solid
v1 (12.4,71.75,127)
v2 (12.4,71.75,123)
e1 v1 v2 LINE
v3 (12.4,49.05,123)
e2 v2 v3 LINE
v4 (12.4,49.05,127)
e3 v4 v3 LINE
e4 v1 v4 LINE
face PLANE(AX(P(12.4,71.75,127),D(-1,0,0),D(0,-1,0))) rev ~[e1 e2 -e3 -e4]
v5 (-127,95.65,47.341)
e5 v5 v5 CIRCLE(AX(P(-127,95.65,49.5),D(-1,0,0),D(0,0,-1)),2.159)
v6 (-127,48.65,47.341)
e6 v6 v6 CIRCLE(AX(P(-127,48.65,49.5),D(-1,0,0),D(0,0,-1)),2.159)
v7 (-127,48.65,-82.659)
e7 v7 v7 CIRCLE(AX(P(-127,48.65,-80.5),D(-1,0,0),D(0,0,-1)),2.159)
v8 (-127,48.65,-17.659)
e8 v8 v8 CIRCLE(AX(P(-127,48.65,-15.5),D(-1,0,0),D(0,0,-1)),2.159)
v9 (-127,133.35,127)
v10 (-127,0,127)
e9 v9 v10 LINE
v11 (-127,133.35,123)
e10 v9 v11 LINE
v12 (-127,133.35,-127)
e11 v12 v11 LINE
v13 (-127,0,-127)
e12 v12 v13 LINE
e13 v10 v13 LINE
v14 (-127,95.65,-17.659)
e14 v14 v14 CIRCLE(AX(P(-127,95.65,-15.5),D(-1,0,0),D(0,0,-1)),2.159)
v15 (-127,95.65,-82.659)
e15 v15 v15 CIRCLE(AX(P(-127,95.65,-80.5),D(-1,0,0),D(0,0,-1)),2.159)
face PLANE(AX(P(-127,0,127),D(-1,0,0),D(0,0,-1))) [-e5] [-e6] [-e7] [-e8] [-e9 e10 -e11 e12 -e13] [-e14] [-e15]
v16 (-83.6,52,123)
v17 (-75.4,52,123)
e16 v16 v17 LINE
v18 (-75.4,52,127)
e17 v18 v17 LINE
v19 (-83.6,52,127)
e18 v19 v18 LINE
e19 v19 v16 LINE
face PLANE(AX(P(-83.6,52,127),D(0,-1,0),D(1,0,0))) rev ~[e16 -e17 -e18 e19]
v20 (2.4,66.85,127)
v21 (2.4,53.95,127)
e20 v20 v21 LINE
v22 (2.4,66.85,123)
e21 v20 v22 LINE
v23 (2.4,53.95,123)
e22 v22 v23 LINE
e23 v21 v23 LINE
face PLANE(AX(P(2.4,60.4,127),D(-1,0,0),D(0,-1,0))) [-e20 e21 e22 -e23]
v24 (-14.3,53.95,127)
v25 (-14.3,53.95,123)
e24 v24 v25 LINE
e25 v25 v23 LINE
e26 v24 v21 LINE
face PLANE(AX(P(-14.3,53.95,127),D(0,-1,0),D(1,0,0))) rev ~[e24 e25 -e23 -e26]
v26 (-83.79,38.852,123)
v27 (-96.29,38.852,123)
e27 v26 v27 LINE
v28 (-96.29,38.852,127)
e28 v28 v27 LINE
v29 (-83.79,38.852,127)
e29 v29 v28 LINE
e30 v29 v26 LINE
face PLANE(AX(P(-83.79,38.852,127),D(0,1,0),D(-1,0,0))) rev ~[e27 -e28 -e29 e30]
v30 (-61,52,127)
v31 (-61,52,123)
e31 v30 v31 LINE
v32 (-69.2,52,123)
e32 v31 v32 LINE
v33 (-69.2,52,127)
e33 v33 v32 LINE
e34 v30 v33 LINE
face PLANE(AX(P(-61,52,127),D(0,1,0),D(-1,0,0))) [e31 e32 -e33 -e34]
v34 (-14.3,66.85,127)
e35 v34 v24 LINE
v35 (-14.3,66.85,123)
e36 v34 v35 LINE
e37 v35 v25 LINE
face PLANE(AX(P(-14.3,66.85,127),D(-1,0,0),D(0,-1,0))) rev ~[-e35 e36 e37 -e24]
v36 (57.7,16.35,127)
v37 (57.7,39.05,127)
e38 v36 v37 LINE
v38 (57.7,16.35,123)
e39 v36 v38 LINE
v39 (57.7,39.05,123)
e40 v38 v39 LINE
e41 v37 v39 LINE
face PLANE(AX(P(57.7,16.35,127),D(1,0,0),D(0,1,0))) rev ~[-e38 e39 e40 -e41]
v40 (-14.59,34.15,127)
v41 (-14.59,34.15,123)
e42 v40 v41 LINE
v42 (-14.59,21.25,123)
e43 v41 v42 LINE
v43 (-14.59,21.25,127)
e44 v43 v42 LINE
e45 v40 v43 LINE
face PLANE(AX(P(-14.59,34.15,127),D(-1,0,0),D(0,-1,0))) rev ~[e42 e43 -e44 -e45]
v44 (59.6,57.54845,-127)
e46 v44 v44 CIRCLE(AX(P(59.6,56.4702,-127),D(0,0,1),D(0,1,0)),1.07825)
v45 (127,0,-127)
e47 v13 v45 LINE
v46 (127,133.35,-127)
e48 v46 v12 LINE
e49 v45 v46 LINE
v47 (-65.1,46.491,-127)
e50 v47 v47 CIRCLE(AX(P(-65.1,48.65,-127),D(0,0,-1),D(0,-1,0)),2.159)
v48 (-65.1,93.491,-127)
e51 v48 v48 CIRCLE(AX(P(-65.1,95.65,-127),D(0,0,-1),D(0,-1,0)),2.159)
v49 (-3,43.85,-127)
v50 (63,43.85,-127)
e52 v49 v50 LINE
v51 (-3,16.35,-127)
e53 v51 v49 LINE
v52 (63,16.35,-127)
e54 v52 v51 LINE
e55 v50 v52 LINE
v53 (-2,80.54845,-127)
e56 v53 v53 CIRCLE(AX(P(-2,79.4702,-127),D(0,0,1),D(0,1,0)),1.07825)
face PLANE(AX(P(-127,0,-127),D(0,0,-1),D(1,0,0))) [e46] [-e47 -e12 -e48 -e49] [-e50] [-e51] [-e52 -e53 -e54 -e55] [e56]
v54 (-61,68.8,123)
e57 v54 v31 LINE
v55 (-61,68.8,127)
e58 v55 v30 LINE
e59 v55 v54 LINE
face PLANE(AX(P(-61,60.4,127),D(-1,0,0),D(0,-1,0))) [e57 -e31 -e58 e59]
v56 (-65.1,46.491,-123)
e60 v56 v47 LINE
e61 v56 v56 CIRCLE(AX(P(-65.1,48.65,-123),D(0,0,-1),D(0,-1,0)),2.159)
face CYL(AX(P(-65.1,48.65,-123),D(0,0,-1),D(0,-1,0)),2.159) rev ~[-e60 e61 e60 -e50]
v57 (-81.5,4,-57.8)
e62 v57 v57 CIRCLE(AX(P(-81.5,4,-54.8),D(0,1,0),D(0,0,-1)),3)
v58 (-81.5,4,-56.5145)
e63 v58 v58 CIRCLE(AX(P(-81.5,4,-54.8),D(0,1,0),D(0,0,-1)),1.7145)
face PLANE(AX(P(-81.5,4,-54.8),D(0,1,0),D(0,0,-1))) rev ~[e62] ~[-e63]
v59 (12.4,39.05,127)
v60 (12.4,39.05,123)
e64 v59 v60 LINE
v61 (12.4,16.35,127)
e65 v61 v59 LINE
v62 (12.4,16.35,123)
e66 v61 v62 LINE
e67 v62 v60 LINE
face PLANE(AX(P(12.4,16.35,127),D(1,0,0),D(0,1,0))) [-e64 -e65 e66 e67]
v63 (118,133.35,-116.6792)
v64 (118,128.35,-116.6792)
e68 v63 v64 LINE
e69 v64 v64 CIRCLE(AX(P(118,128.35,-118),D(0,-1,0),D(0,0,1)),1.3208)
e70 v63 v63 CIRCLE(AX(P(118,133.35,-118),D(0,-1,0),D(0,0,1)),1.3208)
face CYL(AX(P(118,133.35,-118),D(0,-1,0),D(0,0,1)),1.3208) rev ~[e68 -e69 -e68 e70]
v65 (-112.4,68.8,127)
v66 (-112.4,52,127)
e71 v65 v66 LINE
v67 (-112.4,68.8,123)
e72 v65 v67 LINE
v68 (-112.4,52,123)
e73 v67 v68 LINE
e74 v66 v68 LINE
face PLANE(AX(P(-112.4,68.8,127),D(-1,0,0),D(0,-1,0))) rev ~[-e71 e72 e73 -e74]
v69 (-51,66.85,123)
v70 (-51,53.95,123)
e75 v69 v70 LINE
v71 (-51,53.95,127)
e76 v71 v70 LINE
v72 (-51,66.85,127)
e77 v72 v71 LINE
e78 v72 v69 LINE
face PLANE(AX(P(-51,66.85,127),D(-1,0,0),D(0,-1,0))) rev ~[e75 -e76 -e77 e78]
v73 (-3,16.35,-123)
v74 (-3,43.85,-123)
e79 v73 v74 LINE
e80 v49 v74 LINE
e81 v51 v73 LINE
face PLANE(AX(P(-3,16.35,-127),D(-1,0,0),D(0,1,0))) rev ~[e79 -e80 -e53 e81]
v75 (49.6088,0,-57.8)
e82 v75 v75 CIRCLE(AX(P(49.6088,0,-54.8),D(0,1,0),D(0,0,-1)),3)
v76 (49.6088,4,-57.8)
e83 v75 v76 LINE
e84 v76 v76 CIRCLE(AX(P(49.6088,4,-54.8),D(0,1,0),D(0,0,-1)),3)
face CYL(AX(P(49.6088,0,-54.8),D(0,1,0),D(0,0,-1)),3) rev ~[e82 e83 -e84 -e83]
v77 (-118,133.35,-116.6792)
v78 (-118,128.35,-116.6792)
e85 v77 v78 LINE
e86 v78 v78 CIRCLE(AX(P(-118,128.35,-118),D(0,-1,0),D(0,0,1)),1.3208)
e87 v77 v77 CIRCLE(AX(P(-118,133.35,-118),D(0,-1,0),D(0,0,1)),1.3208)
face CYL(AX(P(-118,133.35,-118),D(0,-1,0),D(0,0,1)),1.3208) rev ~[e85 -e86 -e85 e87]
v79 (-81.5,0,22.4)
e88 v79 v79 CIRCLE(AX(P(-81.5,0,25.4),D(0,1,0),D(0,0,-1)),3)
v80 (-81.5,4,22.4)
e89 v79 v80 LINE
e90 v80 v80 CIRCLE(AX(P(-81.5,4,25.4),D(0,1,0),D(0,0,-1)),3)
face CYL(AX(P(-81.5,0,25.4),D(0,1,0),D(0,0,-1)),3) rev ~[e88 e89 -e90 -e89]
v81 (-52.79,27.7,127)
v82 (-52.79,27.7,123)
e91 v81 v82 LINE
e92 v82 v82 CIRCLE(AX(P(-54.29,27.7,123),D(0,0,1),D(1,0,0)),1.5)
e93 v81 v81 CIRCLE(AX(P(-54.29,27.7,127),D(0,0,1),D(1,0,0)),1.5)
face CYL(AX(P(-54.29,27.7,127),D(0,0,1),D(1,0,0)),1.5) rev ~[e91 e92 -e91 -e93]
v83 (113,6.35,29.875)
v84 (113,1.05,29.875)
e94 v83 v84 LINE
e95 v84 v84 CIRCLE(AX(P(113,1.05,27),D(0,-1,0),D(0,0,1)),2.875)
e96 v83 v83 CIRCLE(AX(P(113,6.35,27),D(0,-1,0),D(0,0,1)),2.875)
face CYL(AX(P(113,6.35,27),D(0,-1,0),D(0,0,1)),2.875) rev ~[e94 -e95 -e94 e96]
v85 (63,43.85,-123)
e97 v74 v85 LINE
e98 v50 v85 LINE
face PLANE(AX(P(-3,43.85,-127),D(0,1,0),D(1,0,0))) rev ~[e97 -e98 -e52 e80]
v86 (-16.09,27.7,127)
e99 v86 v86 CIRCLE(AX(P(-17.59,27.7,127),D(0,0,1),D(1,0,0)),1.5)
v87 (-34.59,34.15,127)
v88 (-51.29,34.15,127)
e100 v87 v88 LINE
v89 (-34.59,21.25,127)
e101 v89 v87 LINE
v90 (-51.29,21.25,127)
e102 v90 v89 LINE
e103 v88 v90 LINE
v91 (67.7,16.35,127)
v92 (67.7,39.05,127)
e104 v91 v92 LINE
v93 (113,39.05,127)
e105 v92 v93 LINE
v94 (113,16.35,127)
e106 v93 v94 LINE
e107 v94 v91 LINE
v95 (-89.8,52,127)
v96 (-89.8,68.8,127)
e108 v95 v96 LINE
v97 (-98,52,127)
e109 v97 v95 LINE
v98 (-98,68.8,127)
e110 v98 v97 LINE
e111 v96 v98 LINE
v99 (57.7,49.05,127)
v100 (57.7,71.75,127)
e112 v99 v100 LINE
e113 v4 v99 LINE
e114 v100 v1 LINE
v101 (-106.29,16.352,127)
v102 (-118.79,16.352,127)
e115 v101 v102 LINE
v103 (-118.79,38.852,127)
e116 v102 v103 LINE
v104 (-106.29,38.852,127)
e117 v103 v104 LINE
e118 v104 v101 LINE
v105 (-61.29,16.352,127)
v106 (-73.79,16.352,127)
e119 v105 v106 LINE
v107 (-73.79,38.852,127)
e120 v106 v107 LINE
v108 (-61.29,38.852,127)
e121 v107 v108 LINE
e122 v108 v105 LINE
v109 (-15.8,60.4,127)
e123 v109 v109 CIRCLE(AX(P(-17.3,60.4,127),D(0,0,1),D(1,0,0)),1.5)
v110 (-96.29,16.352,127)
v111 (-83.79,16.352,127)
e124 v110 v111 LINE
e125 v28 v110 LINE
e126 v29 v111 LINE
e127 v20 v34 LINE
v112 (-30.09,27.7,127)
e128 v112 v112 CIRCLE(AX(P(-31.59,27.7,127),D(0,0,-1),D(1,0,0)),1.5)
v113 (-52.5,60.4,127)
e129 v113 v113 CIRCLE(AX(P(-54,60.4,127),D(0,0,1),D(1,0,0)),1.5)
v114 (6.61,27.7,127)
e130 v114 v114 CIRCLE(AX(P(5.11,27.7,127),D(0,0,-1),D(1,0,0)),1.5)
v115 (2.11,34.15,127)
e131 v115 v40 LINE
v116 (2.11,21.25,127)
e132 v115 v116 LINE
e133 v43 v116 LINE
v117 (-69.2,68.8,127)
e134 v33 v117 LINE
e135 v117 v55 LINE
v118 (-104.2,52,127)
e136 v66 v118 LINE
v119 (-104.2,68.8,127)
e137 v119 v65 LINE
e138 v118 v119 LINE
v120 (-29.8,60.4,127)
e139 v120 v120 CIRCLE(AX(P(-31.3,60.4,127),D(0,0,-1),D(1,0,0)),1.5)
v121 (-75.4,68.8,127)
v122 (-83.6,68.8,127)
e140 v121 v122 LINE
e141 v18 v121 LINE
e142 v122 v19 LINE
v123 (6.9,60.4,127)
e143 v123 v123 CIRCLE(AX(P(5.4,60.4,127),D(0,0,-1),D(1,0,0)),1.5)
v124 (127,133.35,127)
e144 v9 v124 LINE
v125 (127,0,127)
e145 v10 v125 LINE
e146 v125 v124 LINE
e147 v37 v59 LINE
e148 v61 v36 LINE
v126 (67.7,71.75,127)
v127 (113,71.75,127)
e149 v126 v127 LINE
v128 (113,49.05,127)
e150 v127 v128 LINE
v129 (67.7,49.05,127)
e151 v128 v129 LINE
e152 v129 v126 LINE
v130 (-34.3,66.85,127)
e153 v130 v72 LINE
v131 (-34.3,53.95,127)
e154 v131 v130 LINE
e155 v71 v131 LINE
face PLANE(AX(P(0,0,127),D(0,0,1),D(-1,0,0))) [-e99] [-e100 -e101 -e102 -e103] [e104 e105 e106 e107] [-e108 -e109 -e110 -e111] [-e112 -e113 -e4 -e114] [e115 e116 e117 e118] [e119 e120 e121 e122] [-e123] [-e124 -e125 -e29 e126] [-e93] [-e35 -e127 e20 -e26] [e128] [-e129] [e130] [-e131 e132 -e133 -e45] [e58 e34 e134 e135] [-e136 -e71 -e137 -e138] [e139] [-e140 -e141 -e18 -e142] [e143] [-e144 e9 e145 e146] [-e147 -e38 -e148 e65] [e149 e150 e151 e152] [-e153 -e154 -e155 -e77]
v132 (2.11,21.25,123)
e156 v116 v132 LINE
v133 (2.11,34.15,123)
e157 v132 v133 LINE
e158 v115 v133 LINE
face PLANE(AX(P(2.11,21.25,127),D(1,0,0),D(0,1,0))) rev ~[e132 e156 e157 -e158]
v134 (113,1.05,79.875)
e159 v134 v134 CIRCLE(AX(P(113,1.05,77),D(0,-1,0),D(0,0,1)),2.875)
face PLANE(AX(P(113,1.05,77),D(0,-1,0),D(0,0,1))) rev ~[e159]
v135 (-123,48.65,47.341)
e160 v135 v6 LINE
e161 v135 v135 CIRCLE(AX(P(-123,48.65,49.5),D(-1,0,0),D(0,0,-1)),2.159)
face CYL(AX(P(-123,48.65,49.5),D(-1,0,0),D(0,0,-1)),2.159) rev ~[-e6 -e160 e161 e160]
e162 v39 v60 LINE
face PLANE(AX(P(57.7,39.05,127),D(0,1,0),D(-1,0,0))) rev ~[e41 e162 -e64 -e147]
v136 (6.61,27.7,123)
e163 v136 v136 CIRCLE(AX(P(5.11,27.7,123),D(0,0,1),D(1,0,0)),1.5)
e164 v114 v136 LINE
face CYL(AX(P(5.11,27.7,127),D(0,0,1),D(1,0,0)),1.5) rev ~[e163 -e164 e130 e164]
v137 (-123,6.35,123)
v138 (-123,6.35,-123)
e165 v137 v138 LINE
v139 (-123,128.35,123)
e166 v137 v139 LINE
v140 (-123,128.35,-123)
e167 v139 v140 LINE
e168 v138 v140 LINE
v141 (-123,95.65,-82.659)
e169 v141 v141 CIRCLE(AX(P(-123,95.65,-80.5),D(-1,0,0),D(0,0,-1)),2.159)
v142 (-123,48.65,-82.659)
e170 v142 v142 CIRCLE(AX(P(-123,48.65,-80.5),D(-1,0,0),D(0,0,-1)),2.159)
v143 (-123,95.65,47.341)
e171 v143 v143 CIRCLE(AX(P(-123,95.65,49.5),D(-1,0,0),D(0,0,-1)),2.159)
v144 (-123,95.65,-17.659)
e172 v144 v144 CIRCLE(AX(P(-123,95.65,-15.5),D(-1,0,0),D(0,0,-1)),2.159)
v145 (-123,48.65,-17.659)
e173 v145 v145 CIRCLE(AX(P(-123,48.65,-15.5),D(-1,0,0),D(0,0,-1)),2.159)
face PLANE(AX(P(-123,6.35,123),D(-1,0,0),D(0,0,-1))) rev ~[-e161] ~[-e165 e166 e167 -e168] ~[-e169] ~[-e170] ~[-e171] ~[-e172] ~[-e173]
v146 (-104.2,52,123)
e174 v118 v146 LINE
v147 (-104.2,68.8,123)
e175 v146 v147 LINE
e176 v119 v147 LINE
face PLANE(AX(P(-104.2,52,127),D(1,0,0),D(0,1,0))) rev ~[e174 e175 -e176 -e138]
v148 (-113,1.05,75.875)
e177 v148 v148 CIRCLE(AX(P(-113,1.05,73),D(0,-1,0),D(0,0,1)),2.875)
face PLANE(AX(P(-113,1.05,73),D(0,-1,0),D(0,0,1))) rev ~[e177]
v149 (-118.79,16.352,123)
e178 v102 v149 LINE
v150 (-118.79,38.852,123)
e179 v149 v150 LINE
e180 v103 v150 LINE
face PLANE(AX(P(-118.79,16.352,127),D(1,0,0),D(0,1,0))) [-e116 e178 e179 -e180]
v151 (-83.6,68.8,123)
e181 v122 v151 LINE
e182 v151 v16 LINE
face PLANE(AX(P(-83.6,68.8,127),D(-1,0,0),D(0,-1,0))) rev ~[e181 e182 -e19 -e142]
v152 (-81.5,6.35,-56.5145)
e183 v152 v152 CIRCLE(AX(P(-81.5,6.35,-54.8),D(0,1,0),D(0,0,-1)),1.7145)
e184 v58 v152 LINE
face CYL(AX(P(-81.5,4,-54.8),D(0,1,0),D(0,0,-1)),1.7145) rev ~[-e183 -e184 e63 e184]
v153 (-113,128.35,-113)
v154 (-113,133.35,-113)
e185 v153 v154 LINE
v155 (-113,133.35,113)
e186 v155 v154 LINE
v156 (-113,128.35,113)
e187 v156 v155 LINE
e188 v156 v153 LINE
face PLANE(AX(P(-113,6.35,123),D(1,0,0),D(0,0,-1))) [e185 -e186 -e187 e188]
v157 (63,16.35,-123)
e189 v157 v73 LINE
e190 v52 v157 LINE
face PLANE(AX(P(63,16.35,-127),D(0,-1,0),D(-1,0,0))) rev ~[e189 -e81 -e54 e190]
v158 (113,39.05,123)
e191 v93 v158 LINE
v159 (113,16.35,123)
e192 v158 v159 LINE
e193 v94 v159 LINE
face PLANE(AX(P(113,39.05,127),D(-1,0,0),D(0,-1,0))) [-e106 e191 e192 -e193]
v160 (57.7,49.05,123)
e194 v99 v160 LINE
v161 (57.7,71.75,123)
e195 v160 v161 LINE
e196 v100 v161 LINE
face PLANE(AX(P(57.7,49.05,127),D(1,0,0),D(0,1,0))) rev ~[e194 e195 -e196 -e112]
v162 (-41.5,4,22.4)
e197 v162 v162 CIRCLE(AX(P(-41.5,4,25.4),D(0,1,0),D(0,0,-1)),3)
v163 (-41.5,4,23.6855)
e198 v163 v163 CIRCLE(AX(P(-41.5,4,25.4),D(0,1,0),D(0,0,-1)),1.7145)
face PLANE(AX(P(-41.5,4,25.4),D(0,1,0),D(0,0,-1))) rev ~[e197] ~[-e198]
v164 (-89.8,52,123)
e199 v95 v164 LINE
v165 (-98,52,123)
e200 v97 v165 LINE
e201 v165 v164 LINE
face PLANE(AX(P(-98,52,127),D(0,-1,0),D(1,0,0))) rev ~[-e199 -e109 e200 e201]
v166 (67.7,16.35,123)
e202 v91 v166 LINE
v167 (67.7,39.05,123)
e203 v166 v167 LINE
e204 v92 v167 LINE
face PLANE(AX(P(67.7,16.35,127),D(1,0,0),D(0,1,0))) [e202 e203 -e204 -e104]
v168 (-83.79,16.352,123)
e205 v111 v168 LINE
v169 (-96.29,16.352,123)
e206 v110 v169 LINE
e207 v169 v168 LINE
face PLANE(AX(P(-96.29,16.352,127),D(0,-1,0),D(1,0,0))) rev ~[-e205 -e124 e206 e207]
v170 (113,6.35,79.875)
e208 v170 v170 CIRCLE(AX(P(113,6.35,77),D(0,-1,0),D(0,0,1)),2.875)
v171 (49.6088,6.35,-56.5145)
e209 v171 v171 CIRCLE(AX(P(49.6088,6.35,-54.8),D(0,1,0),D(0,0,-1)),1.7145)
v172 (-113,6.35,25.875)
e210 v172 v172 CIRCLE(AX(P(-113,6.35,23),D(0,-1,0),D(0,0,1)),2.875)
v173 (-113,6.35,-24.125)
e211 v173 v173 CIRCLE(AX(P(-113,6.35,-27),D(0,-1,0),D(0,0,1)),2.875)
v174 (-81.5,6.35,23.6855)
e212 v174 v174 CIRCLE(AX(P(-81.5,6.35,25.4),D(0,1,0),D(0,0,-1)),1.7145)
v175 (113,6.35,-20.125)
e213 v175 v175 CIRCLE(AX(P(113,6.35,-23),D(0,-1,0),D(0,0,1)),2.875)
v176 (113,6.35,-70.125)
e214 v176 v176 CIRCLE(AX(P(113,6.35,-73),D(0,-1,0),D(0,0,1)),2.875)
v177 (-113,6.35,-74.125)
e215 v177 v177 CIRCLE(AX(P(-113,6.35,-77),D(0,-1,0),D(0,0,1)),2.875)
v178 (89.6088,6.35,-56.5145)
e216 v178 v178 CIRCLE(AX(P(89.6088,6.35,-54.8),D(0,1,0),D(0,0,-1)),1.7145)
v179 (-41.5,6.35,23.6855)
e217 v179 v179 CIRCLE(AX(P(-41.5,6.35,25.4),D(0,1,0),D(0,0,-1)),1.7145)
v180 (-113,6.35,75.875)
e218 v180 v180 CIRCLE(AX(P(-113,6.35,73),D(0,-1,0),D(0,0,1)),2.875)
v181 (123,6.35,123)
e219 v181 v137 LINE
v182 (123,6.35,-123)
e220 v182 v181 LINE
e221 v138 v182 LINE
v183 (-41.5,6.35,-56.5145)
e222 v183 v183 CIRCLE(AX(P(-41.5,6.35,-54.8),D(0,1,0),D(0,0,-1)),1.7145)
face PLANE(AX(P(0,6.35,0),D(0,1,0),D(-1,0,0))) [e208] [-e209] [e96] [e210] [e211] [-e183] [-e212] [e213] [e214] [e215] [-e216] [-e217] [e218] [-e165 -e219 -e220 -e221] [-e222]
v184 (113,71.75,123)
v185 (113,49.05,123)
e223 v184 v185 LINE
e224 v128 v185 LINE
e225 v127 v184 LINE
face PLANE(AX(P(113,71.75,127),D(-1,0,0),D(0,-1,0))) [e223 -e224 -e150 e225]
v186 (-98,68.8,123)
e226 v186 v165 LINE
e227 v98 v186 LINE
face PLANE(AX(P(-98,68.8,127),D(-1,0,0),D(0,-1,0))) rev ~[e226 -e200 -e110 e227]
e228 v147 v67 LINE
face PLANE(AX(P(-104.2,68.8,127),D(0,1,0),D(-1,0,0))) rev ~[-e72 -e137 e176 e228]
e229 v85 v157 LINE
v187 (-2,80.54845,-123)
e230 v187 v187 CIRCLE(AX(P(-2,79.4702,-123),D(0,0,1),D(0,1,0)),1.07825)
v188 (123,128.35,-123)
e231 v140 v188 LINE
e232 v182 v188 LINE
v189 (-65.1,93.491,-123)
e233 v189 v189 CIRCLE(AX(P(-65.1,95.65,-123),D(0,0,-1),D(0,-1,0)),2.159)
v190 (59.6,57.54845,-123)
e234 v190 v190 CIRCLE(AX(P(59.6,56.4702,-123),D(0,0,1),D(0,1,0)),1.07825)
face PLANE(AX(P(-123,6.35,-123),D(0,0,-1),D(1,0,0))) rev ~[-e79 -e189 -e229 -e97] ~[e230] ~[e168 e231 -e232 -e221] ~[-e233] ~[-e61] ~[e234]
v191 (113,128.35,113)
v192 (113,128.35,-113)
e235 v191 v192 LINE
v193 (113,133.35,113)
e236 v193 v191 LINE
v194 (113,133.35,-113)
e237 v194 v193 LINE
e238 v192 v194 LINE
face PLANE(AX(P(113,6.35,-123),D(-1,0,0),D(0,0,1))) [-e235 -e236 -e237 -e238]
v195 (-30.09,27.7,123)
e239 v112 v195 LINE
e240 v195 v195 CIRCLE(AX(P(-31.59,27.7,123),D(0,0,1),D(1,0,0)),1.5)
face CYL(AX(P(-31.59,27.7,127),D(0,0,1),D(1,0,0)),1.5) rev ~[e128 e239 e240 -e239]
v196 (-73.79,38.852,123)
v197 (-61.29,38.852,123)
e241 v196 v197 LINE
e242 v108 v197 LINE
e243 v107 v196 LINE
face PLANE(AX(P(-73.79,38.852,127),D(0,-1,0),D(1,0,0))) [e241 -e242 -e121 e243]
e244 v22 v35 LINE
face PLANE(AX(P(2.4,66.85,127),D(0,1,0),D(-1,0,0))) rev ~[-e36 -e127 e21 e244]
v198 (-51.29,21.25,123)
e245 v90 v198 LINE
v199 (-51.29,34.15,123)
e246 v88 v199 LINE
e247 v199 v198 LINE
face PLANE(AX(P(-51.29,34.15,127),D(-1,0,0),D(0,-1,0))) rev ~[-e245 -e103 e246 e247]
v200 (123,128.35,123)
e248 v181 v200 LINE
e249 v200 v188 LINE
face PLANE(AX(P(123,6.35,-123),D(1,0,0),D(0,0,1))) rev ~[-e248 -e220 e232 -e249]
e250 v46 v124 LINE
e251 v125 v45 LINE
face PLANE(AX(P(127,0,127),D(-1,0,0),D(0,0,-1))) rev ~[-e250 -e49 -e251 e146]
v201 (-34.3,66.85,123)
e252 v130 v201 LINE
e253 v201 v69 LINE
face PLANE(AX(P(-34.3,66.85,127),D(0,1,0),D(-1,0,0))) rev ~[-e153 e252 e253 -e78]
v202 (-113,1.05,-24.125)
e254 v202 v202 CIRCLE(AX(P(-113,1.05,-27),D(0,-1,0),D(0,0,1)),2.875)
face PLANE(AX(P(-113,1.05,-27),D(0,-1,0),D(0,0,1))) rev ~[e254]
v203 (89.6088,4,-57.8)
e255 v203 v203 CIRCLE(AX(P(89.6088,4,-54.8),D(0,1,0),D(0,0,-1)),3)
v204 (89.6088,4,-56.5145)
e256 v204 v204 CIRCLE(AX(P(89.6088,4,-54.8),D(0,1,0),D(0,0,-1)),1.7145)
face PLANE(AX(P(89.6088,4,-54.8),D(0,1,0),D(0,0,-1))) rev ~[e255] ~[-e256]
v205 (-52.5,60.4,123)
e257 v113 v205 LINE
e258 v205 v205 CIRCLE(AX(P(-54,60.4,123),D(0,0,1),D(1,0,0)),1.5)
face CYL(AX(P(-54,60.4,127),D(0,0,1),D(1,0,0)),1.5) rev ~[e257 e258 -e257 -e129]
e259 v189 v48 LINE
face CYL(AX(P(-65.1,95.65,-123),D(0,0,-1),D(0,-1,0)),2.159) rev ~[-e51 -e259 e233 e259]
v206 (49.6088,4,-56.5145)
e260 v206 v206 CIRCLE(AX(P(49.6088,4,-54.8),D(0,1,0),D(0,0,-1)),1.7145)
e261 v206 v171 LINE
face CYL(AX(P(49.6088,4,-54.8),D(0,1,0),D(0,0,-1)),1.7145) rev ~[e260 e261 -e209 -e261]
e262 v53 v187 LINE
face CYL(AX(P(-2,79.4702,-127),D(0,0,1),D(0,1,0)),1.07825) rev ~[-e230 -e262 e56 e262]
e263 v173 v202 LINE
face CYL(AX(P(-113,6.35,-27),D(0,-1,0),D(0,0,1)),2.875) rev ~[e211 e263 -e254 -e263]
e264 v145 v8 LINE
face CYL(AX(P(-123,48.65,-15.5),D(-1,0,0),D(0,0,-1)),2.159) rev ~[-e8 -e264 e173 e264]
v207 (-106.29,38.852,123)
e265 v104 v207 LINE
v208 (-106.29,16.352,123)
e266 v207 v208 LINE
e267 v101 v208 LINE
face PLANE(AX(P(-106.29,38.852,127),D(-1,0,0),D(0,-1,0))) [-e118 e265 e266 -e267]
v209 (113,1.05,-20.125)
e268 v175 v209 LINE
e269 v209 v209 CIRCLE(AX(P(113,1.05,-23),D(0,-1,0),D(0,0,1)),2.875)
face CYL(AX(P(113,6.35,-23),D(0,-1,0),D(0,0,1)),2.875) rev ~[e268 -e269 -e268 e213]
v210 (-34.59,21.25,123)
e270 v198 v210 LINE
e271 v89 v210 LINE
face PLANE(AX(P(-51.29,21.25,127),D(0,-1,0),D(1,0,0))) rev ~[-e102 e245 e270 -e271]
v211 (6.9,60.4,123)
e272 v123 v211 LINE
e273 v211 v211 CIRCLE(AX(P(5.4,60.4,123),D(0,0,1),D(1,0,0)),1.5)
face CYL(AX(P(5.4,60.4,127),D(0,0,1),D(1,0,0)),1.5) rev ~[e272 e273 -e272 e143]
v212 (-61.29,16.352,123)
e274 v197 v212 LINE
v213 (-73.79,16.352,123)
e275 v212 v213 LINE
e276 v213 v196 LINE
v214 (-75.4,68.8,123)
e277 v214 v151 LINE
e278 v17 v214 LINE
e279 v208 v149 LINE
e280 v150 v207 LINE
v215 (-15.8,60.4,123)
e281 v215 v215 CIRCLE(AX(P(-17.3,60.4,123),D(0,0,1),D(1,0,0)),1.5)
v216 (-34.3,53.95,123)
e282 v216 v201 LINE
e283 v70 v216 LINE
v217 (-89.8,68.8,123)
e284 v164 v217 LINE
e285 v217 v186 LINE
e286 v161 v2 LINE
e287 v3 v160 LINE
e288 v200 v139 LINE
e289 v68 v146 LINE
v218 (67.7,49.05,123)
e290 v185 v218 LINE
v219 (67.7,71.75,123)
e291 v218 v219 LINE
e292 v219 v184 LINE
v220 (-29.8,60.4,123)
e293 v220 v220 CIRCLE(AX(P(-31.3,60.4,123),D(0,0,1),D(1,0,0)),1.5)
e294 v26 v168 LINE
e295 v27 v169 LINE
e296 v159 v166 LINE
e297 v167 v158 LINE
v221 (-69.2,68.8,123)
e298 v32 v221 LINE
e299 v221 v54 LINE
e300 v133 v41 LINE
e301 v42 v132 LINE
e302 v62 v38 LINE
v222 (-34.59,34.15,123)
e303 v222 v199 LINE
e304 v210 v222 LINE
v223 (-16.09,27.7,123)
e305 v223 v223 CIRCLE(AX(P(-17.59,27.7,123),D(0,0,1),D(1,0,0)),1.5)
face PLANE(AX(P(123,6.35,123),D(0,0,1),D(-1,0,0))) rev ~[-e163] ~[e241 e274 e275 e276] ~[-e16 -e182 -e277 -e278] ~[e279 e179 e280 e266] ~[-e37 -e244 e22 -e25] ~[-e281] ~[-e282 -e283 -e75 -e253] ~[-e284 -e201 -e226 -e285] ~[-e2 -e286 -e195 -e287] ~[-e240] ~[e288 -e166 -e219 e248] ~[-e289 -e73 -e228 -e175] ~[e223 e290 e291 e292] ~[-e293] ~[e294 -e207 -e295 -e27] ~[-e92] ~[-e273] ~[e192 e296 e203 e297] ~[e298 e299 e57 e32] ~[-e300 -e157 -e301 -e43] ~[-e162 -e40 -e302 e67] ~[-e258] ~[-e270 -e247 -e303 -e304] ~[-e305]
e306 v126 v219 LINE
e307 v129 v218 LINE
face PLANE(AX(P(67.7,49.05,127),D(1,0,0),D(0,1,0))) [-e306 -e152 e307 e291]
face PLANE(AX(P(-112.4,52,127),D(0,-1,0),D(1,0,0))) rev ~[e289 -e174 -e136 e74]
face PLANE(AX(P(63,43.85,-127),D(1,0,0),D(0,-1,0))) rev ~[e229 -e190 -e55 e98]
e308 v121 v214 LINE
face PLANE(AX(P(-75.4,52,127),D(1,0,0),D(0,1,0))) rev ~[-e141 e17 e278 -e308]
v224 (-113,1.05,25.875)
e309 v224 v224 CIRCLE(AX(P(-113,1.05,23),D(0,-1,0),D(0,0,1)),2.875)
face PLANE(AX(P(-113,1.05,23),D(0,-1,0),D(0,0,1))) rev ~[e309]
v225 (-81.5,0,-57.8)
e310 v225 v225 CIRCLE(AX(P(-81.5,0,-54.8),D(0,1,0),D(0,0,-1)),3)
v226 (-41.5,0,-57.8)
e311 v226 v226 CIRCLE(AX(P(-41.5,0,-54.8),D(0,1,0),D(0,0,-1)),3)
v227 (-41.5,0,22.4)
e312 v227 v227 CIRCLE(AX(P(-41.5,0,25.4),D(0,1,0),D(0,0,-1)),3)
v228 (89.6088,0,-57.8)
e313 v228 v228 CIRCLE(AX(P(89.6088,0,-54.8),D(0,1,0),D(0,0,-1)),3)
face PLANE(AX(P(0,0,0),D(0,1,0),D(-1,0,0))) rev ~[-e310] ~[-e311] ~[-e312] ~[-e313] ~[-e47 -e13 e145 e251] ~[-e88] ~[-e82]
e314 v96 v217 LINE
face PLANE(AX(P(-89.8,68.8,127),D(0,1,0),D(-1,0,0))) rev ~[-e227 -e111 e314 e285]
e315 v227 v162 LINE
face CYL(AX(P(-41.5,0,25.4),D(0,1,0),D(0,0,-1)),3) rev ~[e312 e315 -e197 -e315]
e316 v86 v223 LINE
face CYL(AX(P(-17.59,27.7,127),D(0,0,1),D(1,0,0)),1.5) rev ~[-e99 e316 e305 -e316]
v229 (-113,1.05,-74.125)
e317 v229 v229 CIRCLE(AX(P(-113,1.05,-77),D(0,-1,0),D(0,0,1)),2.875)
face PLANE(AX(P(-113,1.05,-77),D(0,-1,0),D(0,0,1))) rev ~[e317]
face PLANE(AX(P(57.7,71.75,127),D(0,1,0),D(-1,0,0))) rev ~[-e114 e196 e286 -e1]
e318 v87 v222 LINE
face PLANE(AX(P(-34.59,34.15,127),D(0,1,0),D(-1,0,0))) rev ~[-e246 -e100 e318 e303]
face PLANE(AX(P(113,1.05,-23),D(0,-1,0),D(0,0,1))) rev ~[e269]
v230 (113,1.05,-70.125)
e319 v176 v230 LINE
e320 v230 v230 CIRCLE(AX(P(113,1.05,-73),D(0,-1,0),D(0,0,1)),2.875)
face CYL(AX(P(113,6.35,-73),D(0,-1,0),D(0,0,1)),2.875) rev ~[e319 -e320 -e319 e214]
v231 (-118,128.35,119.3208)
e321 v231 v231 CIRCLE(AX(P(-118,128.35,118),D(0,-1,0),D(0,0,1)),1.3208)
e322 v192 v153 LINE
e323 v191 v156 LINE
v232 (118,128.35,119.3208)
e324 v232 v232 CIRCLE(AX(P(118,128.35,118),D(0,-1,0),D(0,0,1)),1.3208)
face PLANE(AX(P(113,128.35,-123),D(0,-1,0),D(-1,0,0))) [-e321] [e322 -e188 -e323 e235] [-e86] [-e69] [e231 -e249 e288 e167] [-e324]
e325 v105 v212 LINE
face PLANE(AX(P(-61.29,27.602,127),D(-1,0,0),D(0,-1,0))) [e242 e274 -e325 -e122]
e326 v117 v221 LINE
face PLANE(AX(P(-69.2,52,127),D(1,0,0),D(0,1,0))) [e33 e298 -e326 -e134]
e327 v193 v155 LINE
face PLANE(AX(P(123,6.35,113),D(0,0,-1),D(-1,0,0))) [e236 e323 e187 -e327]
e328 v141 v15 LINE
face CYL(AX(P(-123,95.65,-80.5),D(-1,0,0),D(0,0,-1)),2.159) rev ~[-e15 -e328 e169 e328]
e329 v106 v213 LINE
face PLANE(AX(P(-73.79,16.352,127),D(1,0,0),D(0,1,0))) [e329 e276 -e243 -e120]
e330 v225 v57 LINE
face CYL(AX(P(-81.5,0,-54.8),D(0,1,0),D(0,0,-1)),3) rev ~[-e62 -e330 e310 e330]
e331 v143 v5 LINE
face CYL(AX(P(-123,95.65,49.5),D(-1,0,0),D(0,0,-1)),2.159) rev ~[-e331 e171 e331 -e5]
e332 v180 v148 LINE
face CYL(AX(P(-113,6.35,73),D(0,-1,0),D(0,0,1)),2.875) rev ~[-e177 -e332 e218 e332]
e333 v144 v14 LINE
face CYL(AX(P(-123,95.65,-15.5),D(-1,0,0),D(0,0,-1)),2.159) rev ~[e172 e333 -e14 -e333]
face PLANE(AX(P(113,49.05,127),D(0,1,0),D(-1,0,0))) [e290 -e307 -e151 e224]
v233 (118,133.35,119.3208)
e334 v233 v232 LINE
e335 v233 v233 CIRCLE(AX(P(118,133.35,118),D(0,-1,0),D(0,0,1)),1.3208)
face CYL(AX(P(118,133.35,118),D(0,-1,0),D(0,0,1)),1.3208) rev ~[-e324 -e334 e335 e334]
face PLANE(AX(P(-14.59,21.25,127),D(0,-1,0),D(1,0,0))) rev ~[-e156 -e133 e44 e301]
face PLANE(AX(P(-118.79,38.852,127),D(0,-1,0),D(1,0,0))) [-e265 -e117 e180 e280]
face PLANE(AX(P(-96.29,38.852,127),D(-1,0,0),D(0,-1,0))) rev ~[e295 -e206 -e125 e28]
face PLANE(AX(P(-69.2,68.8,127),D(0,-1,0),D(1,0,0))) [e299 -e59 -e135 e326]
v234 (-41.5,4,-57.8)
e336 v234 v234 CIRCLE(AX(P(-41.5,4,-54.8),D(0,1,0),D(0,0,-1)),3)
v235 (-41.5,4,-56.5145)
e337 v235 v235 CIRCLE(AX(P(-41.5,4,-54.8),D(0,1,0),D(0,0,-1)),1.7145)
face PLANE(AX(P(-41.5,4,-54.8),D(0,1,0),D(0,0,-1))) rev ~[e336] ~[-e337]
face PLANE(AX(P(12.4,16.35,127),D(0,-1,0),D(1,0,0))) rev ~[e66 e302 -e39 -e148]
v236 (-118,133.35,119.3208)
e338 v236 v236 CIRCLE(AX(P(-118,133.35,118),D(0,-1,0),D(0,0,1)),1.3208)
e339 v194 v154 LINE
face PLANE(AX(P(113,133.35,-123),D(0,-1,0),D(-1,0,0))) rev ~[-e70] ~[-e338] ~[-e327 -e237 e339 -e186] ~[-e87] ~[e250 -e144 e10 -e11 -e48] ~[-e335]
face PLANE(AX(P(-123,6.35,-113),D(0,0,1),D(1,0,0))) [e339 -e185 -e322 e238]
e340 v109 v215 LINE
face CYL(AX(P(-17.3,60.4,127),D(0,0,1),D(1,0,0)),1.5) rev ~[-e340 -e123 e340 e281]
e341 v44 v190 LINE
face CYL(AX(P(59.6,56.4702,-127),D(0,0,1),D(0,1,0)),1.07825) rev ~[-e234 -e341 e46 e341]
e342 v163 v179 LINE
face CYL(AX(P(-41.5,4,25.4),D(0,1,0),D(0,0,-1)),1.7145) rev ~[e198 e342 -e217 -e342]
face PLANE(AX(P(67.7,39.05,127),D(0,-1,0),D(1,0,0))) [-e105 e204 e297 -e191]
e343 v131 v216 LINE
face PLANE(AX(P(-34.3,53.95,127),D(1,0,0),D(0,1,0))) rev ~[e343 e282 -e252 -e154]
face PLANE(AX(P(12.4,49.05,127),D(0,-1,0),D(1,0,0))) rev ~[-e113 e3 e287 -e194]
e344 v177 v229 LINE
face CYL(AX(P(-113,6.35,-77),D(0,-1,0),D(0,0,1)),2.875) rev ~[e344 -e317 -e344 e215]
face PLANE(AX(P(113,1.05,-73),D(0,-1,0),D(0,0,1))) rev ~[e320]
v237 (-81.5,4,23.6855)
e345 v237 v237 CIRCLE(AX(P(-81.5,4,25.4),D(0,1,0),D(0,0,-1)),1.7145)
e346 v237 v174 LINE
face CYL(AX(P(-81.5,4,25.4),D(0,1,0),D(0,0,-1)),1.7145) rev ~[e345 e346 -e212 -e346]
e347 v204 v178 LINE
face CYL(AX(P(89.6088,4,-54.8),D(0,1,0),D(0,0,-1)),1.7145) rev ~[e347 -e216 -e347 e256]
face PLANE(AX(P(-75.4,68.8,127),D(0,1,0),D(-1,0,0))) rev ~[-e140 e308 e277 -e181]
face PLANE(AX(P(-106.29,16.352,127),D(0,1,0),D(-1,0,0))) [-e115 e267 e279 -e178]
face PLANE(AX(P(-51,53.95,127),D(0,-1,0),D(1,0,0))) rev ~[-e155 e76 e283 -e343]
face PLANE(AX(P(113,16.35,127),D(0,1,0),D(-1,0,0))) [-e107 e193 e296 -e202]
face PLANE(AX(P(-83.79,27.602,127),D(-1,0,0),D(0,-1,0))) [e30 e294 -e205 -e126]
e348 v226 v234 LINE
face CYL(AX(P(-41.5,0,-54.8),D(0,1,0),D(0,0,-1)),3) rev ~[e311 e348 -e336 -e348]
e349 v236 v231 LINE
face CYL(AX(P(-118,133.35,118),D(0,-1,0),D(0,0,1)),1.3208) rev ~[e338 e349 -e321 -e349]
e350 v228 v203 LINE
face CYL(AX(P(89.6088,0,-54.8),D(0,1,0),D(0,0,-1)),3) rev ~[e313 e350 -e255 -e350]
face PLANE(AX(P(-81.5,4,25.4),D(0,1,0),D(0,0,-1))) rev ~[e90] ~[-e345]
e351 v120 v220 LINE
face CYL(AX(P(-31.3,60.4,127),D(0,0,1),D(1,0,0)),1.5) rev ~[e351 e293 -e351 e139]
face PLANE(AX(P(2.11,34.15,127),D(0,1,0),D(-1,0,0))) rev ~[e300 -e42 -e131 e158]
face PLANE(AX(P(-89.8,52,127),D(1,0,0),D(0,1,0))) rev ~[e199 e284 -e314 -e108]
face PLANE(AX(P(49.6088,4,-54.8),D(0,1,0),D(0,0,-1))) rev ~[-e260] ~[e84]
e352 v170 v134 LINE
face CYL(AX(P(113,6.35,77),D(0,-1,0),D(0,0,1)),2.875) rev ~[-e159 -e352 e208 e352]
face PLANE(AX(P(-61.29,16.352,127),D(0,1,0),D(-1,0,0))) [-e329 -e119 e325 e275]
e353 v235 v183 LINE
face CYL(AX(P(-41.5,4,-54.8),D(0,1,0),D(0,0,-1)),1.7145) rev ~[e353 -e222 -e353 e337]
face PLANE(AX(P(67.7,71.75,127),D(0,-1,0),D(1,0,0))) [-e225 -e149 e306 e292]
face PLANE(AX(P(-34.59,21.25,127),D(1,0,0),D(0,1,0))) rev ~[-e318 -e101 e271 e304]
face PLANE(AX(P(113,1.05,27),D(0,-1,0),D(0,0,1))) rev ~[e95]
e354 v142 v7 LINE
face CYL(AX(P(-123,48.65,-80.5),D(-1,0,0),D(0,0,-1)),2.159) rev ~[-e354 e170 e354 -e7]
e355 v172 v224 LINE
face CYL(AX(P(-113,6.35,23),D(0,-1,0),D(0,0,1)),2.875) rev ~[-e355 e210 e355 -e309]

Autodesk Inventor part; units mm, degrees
ref_plane "YZ Plane" through (0, 0, 0) normal (1, 0, 0) x (0, 1, 0)
ref_plane "XZ Plane" through (0, 0, 0) normal (0, 1, 0) x (-1, 0, 0)
ref_plane "XY Plane" through (0, 0, 0) normal (0, 0, 1) x (1, 0, 0)
sketch "Sketch1" plane through (0, 0, 0) normal (0, 1, 0) x (-1, 0, 0)
  line L0 (0, 0) -> (0, 127)
  line L1 (0, 127) -> (127, 127)
  line L2 (127, 127) -> (127, -127)
  line L3 (127, -127) -> (-127, -127)
  line L4 (0, 127) -> (-127, 127)
  line L5 (-127, 127) -> (-127, -127)
  dimension "d0" = 127
  dimension "d1" = 127
  dimension "d2" = 254
  dimension "d3" = 254
  dimension "d4" = 127
extrude "Extrusion1" add sketch "Sketch1" along normal blind 6.35
sketch "Sketch2" plane through (0, 6.35, 0) normal (0, 1, 0) x (1, 0, 0)
  line L0 (-127, -127) -> (127, -127) projected
  line L1 (-127, -127) -> (-127, -123)
  line L2 (-127, 127) -> (-127, -127) projected
  line L3 (-127, -123) -> (-123, -123)
  line L4 (-123, -123) -> (-123, 123)
  line L5 (-123, 123) -> (123, 123)
  line L6 (127, 127) -> (-127, 127) projected
  line L7 (123, 123) -> (123, -123)
  line L8 (123, -123) -> (-123, -123)
  line L9 (-127, -127) -> (127, -127)
  line L10 (127, 127) -> (127, -127)
  line L11 (-127, 127) -> (127, 127)
  line L12 (-127, 127) -> (-127, -127)
  point P0 (0, 0)
  dimension "d7" = 4
  dimension "d8" = 4
  dimension "d9" = 246
  dimension "d10" = 246
  dimension "d11" = 90
extrude "Extrusion2" add sketch "Sketch2" along normal blind 127
sketch "Sketch3" plane through (-127, 0, 127) normal (0, 0, 1) x (1, 0, 0)
  line L0 (4, 6.35) -> (250, 6.35) projected
  line L1 (250, 6.35) -> (250, 16.35)
  line L2 (250, 6.35) -> (250, 133.35) projected
  line L3 (250, 16.35) -> (240, 16.35)
  line L4 (240, 16.35) -> (194.7, 16.35)
  line L5 (194.7, 16.35) -> (194.7, 39.05)
  line L6 (194.7, 39.05) -> (240, 39.05)
  line L7 (240, 39.05) -> (240, 16.35)
  line L8 (240, 39.05) -> (240, 49.05)
  line L9 (240, 49.05) -> (194.7, 49.05)
  line L10 (194.7, 49.05) -> (194.7, 71.75)
  line L11 (194.7, 71.75) -> (240, 71.75)
  line L12 (240, 71.75) -> (240, 49.05)
  line L13 (194.7, 49.05) -> (184.7, 49.05)
  line L14 (184.7, 49.05) -> (184.7, 71.75)
  line L15 (184.7, 71.75) -> (139.4, 71.75)
  line L16 (139.4, 71.75) -> (139.4, 49.05)
  line L17 (139.4, 49.05) -> (184.7, 49.05)
  line L18 (184.7, 49.05) -> (184.7, 39.05)
  line L19 (184.7, 39.05) -> (139.4, 39.05)
  line L20 (139.4, 16.35) -> (139.4, 39.05)
  line L21 (139.4, 16.35) -> (184.7, 16.35)
  line L22 (184.7, 16.35) -> (184.7, 39.05)
  point P0 (127, 0)
  dimension "d14" = 10
  dimension "d15" = 10
  dimension "d16" = 45.3
  dimension "d17" = 22.7
  dimension "d18" = 10
  dimension "d19" = 22.7
  dimension "d20" = 10
  dimension "d21" = 45.3
sketch "Sketch4" plane through (-127, 0, 127) normal (0, 0, 1) x (1, 0, 0)
  line L0 (139.4, 71.75) -> (139.4, 49.05) projected
  line L1 (0, 0) -> (254, 0) projected
  line L2 (254, 0) -> (254, 133.35) projected
  line L3 (0, 133.35) -> (254, 133.35) projected
  line L4 (0, 0) -> (0, 133.35) projected
  line L5 (139.4, 16.35) -> (139.4, 39.05) projected
  line L6 (139.4, 60.4) -> (129.4, 60.4)
  line L7 (129.4, 60.4) -> (129.4, 66.85)
  line L8 (129.4, 66.85) -> (129.4, 60.4)
  line L9 (129.4, 60.4) -> (129.4, 53.95)
  line L10 (129.4, 66.85) -> (112.7, 66.85)
  line L11 (112.7, 66.85) -> (112.7, 53.95)
  line L12 (112.7, 53.95) -> (129.4, 53.95)
  line L13 (112.7, 66.85) -> (92.7, 66.85)
  line L14 (92.7, 66.85) -> (76, 66.85)
  line L15 (76, 66.85) -> (76, 53.95)
  line L16 (76, 53.95) -> (92.7, 53.95)
  line L17 (92.7, 53.95) -> (92.7, 66.85)
  line L18 (139.4, 27.7) -> (129.11, 27.7)
  line L19 (129.11, 27.7) -> (129.11, 34.15)
  line L20 (129.11, 34.15) -> (112.41, 34.15)
  line L21 (112.41, 34.15) -> (112.41, 21.25)
  line L22 (112.41, 21.25) -> (129.11, 21.25)
  line L23 (129.11, 21.25) -> (129.11, 27.7)
  line L24 (112.41, 34.15) -> (92.41, 34.15)
  line L25 (92.41, 34.15) -> (75.71, 34.15)
  line L26 (75.71, 21.25) -> (92.41, 21.25)
  line L27 (92.41, 21.25) -> (92.41, 34.15)
  line L28 (75.71, 34.15) -> (75.71, 21.25)
  point P0 (127, 0)
  dimension "d22" = 10
  dimension "d23" = 6.45
  dimension "d24" = 6.45
  dimension "d25" = 16.7
  dimension "d26" = 20
  dimension "d27" = 16.7
  dimension "d28" = 6.45
  dimension "d29" = 12.9
  dimension "d162" = 20
  dimension "d163" = 16.7
  dimension "d164" = 16.7
extrude "Extrusion4" cut sketch "Sketch4" against normal blind 101.6 contours L9 L12 L11 L10 L7 | L17 L16 L15 L14 | L23 L22 L21 L20 L19 | L27 L26 L28 L25
extrude "Extrusion5" cut sketch "Sketch3" against normal blind 19
sketch "Sketch6" plane through (-127, 0, 127) normal (0, 0, 1) x (1, 0, 0)
  line L0 (76, 53.95) -> (76, 66.85) projected
  line L1 (76, 60.4) -> (66, 60.4)
  line L2 (66, 60.4) -> (66, 52)
  line L3 (66, 52) -> (57.8, 52)
  line L4 (57.8, 52) -> (57.8, 68.8)
  line L5 (57.8, 68.8) -> (66, 68.8)
  line L6 (66, 68.8) -> (66, 60.4)
  line L7 (57.8, 68.8) -> (54.7, 68.8)
  line L8 (54.7, 68.8) -> (51.6, 68.8)
  line L9 (51.6, 68.8) -> (43.4, 68.8)
  line L10 (43.4, 68.8) -> (43.4, 52)
  line L11 (43.4, 52) -> (51.6, 52)
  line L12 (51.6, 52) -> (51.6, 68.8)
  line L13 (43.4, 68.8) -> (37.2, 68.8)
  line L14 (37.2, 68.8) -> (29, 68.8)
  line L15 (29, 68.8) -> (29, 52)
  line L16 (29, 52) -> (37.2, 52)
  line L17 (37.2, 52) -> (37.2, 68.8)
  line L18 (29, 68.8) -> (22.8, 68.8)
  line L19 (22.8, 68.8) -> (14.6, 68.8)
  line L20 (14.6, 68.8) -> (14.6, 52)
  line L21 (14.6, 52) -> (22.8, 52)
  line L22 (22.8, 52) -> (22.8, 68.8)
  point P0 (127, 0)
  dimension "d38" = 10
  dimension "d39" = 8.4
  dimension "d40" = 8.2
  dimension "d41" = 16.8
  dimension "d42" = 3.1
  dimension "d43" = 3.1
  dimension "d44" = 8.2
  dimension "d45" = 6.2
  dimension "d46" = 8.2
  dimension "d47" = 6.2
  dimension "d48" = 8.2
  dimension "d232" = 16.8
  dimension "d233" = 16.8
  dimension "d234" = 16.8
sketch "Sketch7" plane through (-127, 0, 127) normal (0, 0, 1) x (1, 0, 0)
  line L0 (85.71, 27.602) -> (65.71, 27.602)
  line L1 (65.71, 27.602) -> (65.71, 38.852)
  line L2 (65.71, 27.602) -> (65.71, 16.352)
  line L3 (65.71, 16.352) -> (53.21, 16.352)
  line L4 (53.21, 16.352) -> (53.21, 38.852)
  line L5 (53.21, 38.852) -> (65.71, 38.852)
  line L6 (53.21, 27.602) -> (43.21, 27.602)
  line L7 (43.21, 27.602) -> (43.21, 38.852)
  line L8 (43.21, 38.852) -> (30.71, 38.852)
  line L9 (30.71, 38.852) -> (30.71, 16.352)
  line L10 (30.71, 16.352) -> (43.21, 16.352)
  line L11 (43.21, 27.602) -> (43.21, 16.352)
  line L12 (30.71, 38.852) -> (20.71, 38.852)
  line L13 (20.71, 38.852) -> (20.71, 16.352)
  line L14 (20.71, 16.352) -> (8.21, 16.352)
  line L15 (8.21, 16.352) -> (8.21, 38.852)
  line L16 (8.21, 38.852) -> (20.71, 38.852)
  point P0 (127, 0)
  dimension "d49" = 20
  dimension "d50" = 11.25
  dimension "d51" = 11.25
  dimension "d52" = 12.5
  dimension "d53" = 10
  dimension "d54" = 12.5
  dimension "d55" = 10
  dimension "d56" = 12.5
extrude "Extrusion9" cut sketch "Sketch6" against normal blind 19
extrude "Extrusion11" cut sketch "Sketch7" against normal blind 10
sketch "Sketch12" plane through (0, 0, 0) normal (0, 1, 0) x (1, 0, 0)
  line L0 (-123, -123) -> (123, -123) projected
  line L1 (89.6088, -123) -> (89.6088, 4)
  line L2 (89.6088, -123) -> (216.6088, -123) construction
  line L3 (89.6088, 4) -> (89.6088, 54.8)
  line L4 (89.6088, 54.8) -> (49.6088, 54.8)
  circle A0 centre (89.6088, 54.8) radius 1.75
  circle A1 centre (49.6088, 54.8) radius 1.75
  line L5 (34.61, -135.8133) -> (161.61, -135.8133) construction
  line L6 (-61.29, -127) -> (-61.29, -123) projected
  line L7 (-61.29, -123) -> (65.71, -123) construction
  line L8 (-127, -127) -> (127, -127) projected
  line L9 (0, -127) -> (-61.5, -127)
  line L10 (-61.5, -127) -> (-61.5, -25.4)
  line L11 (-61.5, -25.4) -> (-81.5, -25.4)
  line L12 (-81.5, -25.4) -> (-41.5, -25.4)
  line L13 (-41.5, -25.4) -> (-41.5, 54.8)
  line L14 (-41.5, 54.8) -> (-81.5, 54.8)
  circle A2 centre (-41.5, -25.4) radius 1.75
  circle A3 centre (-81.5, -25.4) radius 1.75
  circle A4 centre (-81.5, 54.8) radius 1.75
  circle A5 centre (-41.5, 54.8) radius 1.75
  dimension "d84" = 127
  dimension "d85" = 90
  dimension "d86" = 50.8
  dimension "d87" = 40
  dimension "d88" = 3.5
  dimension "d89" = 3.5
  dimension "d97" = 61.5
  dimension "d98" = 101.6
  dimension "d99" = 20
  dimension "d100" = 40
  dimension "d101" = 40
  dimension "d102" = 3.5
  dimension "d103" = 3.5
  dimension "d104" = 3.5
  dimension "d105" = 3.5
sketch "Sketch13" plane through (-123, 6.35, 123) normal (1, 0, 0) x (0, 0, -1)
  line L0 (246, 127) -> (236, 127)
  line L1 (0, 127) -> (246, 127) projected
  line L2 (236, 127) -> (226, 127)
  line L3 (226, 127) -> (226, 94.3)
  line L4 (226, 94.3) -> (181, 94.3)
  line L5 (181, 94.3) -> (181, 37.3)
  line L6 (181, 37.3) -> (226, 37.3)
  line L7 (226, 37.3) -> (226, 94.3)
  line L8 (181, 94.3) -> (161, 94.3)
  line L9 (161, 94.3) -> (161, 37.3)
  line L10 (161, 37.3) -> (116, 37.3)
  line L11 (116, 37.3) -> (116, 94.3)
  line L12 (116, 94.3) -> (161, 94.3)
  line L13 (116, 94.3) -> (96, 94.3)
  line L14 (116, 94.3) -> (136, 94.3) construction
  line L15 (96, 94.3) -> (96, 37.3)
  line L16 (96, 37.3) -> (51, 37.3)
  line L17 (51, 37.3) -> (51, 94.3)
  line L18 (51, 94.3) -> (96, 94.3)
  line L19 (73.5, 94.3) -> (73.5, 89.3)
  line L20 (73.5, 37.3) -> (73.5, 42.3)
  line L21 (138.5, 94.3) -> (138.5, 89.3)
  line L22 (138.5, 89.3) -> (138.5, 42.3)
  line L23 (203.5, 94.3) -> (203.5, 89.3)
  line L24 (203.5, 89.3) -> (203.5, 42.3)
  circle A0 centre (73.5, 42.3) radius 2
  circle A1 centre (73.5, 89.3) radius 2
  circle A2 centre (138.5, 89.3) radius 2
  circle A3 centre (138.5, 42.3) radius 2
  circle A4 centre (203.5, 42.3) radius 2
  circle A5 centre (203.5, 89.3) radius 2
  line L25 (51, 94.3) -> (31, 94.3)
  line L26 (51, 94.3) -> (71, 94.3) construction
  point P0 (123, -6.35)
  dimension "d108" = 10
  dimension "d109" = 10
  dimension "d110" = 32.7
  dimension "d111" = 90
  dimension "d112" = 45
  dimension "d113" = 57
  dimension "d114" = 20
  dimension "d115" = 45
  dimension "d116" = 20
  dimension "d117" = 180
  dimension "d118" = 57
  dimension "d119" = 45
  dimension "d120" = 5
  dimension "d121" = 5
  dimension "d122" = 5
  dimension "d123" = 4
  dimension "d124" = 4
  dimension "d125" = 4
  dimension "d126" = 4
  dimension "d127" = 4
  dimension "d128" = 4
  dimension "d151" = 20
  dimension "d152" = 180
sketch "Sketch17" plane through (-127, 0, 127) normal (0, 0, 1) x (1, 0, 0)
  line L0 (92.7, 53.95) -> (92.7, 66.85) projected
  line L1 (92.7, 60.4) -> (95.7, 60.4)
  line L2 (95.7, 60.4) -> (99.7, 60.4)
  circle A0 centre (95.7, 60.4) radius 1.5
  line L3 (76, 53.95) -> (76, 66.85) projected
  line L4 (76, 60.4) -> (73, 60.4)
  line L5 (75.71, 21.25) -> (75.71, 34.15) projected
  line L6 (75.71, 27.7) -> (72.71, 27.7)
  line L7 (92.41, 34.15) -> (92.41, 21.25) projected
  line L8 (92.41, 27.7) -> (95.41, 27.7)
  line L9 (112.7, 53.95) -> (112.7, 66.85) projected
  line L10 (112.7, 60.4) -> (109.7, 60.4)
  line L11 (112.41, 21.25) -> (112.41, 34.15) projected
  line L12 (112.41, 27.7) -> (109.41, 27.7)
  line L13 (129.11, 34.15) -> (129.11, 21.25) projected
  line L14 (129.11, 27.7) -> (132.11, 27.7)
  line L15 (129.4, 66.85) -> (129.4, 53.95) projected
  line L16 (129.4, 60.4) -> (132.4, 60.4)
  circle A1 centre (109.7, 60.4) radius 1.5
  circle A2 centre (132.4, 60.4) radius 1.5
  circle A3 centre (132.11, 27.7) radius 1.5
  circle A4 centre (95.41, 27.7) radius 1.5
  circle A5 centre (109.41, 27.7) radius 1.5
  circle A6 centre (72.71, 27.7) radius 1.5
  circle A7 centre (73, 60.4) radius 1.5
  point P0 (127, 0)
  dimension "d147" = 3
  dimension "d148" = 4
  dimension "d150" = 3
  dimension "d165" = 3
  dimension "d166" = 3
  dimension "d167" = 3
  dimension "d168" = 3
  dimension "d169" = 3
  dimension "d170" = 3
  dimension "d171" = 3
  dimension "d172" = 3
  dimension "d173" = 3
  dimension "d174" = 3
  dimension "d175" = 3
  dimension "d176" = 3
  dimension "d177" = 3
  dimension "d178" = 3
sketch "Sketch18" plane through (-123, 6.35, -123) normal (0, 0, 1) x (1, 0, 0)
  line L0 (0, 127) -> (35.4, 127)
  line L1 (0, 127) -> (246, 127) projected
  line L2 (35.4, 127) -> (35.4, 94.3)
  line L3 (35.4, 94.3) -> (80.4, 94.3)
  line L4 (80.4, 94.3) -> (80.4, 37.3)
  line L5 (80.4, 37.3) -> (35.4, 37.3)
  line L6 (35.4, 37.3) -> (35.4, 94.3)
  line L7 (57.9, 94.3) -> (57.9, 89.3)
  line L8 (57.9, 89.3) -> (57.9, 42.3)
  circle A0 centre (57.9, 89.3) radius 2
  circle A1 centre (57.9, 42.3) radius 2
  point P0 (123, -6.35)
  dimension "d153" = 35.4
  dimension "d154" = 32.7
  dimension "d155" = 90
  dimension "d156" = 45
  dimension "d157" = 57
  dimension "d158" = 5
  dimension "d159" = 47
  dimension "d160" = 4
  dimension "d161" = 4
extrude "Extrusion18" cut sketch "Sketch17" against normal blind 10
sketch "Sketch19" plane through (127, 0, -127) normal (0, 0, -1) x (-1, 0, 0)
  line L0 (4, 6.35) -> (4, 133.35) projected
  line L1 (4, 6.35) -> (64, 6.35)
  line L2 (4, 6.35) -> (250, 6.35) projected
  line L3 (64, 6.35) -> (64, 16.35)
  line L4 (64, 16.35) -> (130, 16.35)
  line L5 (14, 16.35) -> (59.3, 16.35) projected
  line L6 (130, 16.35) -> (130, 43.85)
  line L7 (130, 43.85) -> (64, 43.85)
  line L8 (59.3, 39.05) -> (14, 39.05) projected
  line L9 (64, 43.85) -> (64, 16.35)
  point P0 (127, 0)
  dimension "d204" = 60
  dimension "d205" = 10
  dimension "d206" = 66
  dimension "d207" = 27.5
  dimension "d208" = 66
  dimension "d209" = 90
extrude "Extrusion21" cut sketch "Sketch19" against normal blind 5
sketch "Sketch20" plane through (127, 0, -127) normal (0, 0, -1) x (-1, 0, 0)
  line L0 (67.4, 56.4702) -> (129, 56.4702)
  line L1 (67.4, 56.4702) -> (129, 56.4702) construction
  line L2 (129, 56.4702) -> (129, 79.4702)
  circle A0 centre (67.4, 56.4702) radius 1.75
  circle A1 centre (129, 79.4702) radius 1.75
  line L3 (254, 0) -> (0, 0) projected
  line L4 (64, 43.85) -> (83.11, 43.85) construction
  line L5 (67.4, 56.4702) -> (67.4, 43.85)
  line L6 (64, 16.35) -> (64, 43.85) projected
  line L7 (67.4, 43.85) -> (64, 43.85)
  line L8 (129, 56.4702) -> (129, 43.85)
  line L9 (129, 43.85) -> (130, 43.85)
  line L10 (64, 43.85) -> (130, 43.85) projected
  point P0 (127, 0)
  dimension "d190" = 61.6
  dimension "d191" = 0
  dimension "d192" = 23
  dimension "d193" = 90
  dimension "d194" = 3.5
  dimension "d195" = 3.5
  dimension "d259" = 1
hole "Hole1" at (89.6088, 0, -54.8) at (49.6088, 0, -54.8) at (-41.5, 0, -54.8) at (-81.5, 0, -54.8) at (-41.5, 0, 25.4) at (-81.5, 0, 25.4) direction (0, 1, 0) diameter 3.429 end through all counterbore diameter 6 counterbore depth 4
hole "Hole2" at (-123, 48.65, 49.5) at (-123, 95.65, 49.5) at (-123, 48.65, -15.5) at (-123, 95.65, -15.5) at (-123, 48.65, -80.5) at (-123, 95.65, -80.5) direction (-1, 0, 0) diameter 4.318 end through all
hole "Hole3" at (-65.1, 95.65, -123) at (-65.1, 48.65, -123) direction (0, 0, -1) diameter 4.318 depth 5.3
hole "Hole4" at (-2, 79.4702, -127) at (59.6, 56.4702, -127) direction (0, 0, 1) diameter 2.1565 depth 8.865 thread size "4-40 UNC" class "2B" standard "ANSI Unified Screw Threads"
sketch "Sketch22" plane through (0, 6.35, 0) normal (0, 1, 0) x (1, 0, 0)
  line L0 (-123, 123) -> (123, 123) projected
  line L1 (123, 123) -> (113, 123)
  line L2 (113, 123) -> (113, 73)
  line L3 (-123, -123) -> (123, -123) projected
  line L4 (-123, -123) -> (-113, -123)
  line L5 (-113, -123) -> (-113, -73)
  line L6 (-113, -73) -> (-113, -23)
  line L7 (-113, -23) -> (-113, 27)
  line L8 (-113, 27) -> (-113, 77)
  line L9 (113, 73) -> (113, 23)
  line L10 (113, 23) -> (113, -27)
  line L11 (113, -27) -> (113, -77)
  point P0 (0, 0)
  dimension "d260" = 10
  dimension "d261" = 50
  dimension "d262" = 10
  dimension "d263" = 50
  dimension "d294" = 50
  dimension "d295" = 50
  dimension "d296" = 180
  dimension "d297" = 50
  dimension "d298" = 180
  dimension "d299" = 50
  dimension "d300" = 50
  dimension "d301" = 50
hole "Hole5" at (113, 6.35, -73) at (-113, 6.35, 73) at (113, 6.35, -23) at (113, 6.35, 27) at (113, 6.35, 77) at (-113, 6.35, 23) at (-113, 6.35, -27) at (-113, 6.35, -77) direction (0, -1, 0) diameter 5.75 depth 5.3
sketch "Sketch23" plane through (-123, 6.35, 123) normal (1, 0, 0) x (0, 0, -1)
  line L0 (0, 0) -> (0, 127) projected
  line L1 (0, 127) -> (0, 122)
  line L2 (0, 122) -> (246, 122)
  line L3 (246, 122) -> (246, 127)
  line L4 (246, 127) -> (246, 122)
  line L5 (0, 127) -> (246, 127)
  line L6 (250, 127) -> (-4, 127) projected
  point P0 (123, -6.35)
  dimension "d271" = 5
extrude "Extrusion25" add sketch "Sketch23" along normal blind 10
sketch "Sketch24" plane through (123, 6.35, -123) normal (-1, 0, 0) x (0, 0, 1)
  line L0 (246, 127) -> (246, 122)
  line L1 (246, 122) -> (0, 122)
  line L2 (0, 122) -> (0, 127)
  line L3 (0, 127) -> (0, 122)
  line L4 (0, 127) -> (246, 127) projected
  line L5 (0, 127) -> (246, 127)
  point P0 (123, -6.35)
  dimension "d274" = 5
extrude "Extrusion26" add sketch "Sketch24" along normal blind 10
sketch "Sketch25" plane through (123, 6.35, 123) normal (0, 0, -1) x (-1, 0, 0)
  line L0 (10, 127) -> (236, 127) projected
  line L1 (10, 127) -> (10, 122)
  line L2 (10, 122) -> (236, 122)
  line L3 (236, 122) -> (236, 127)
  line L4 (236, 127) -> (236, 122)
  point P0 (123, -6.35)
  dimension "d277" = 5
extrude "Extrusion27" add sketch "Sketch25" along normal blind 10
sketch "Sketch26" plane through (-123, 6.35, -123) normal (0, 0, 1) x (1, 0, 0)
  line L0 (246, 122) -> (236, 122) projected
  line L1 (10, 122) -> (0, 122) projected
  line L2 (236, 122) -> (10, 122)
  line L3 (10, 122) -> (10, 127)
  line L4 (250, 127) -> (-4, 127) projected
  line L5 (10, 122) -> (10, 127)
  line L6 (-4, 127) -> (250, 127) projected
  line L7 (236, 127) -> (10, 127)
  line L8 (236, 122) -> (236, 127) projected
  point P0 (123, -6.35)
extrude "Extrusion28" add sketch "Sketch26" along normal blind 10
sketch "Sketch27" plane through (0, 133.35, 0) normal (0, 1, 0) x (1, 0, 0)
  line L0 (123, -123) -> (123, 123) projected
  line L1 (123, 123) -> (118, 123)
  line L2 (123, 123) -> (-123, 123) projected
  line L3 (118, 123) -> (118, 118)
  line L4 (118, 118) -> (-118, 118)
  line L5 (-123, 123) -> (-123, -123) projected
  line L6 (-118, 118) -> (-118, -118)
  line L7 (-118, -118) -> (118, -118)
  point P0 (0, 0)
  dimension "d282" = 5
  dimension "d283" = 5
  dimension "d284" = 236
  dimension "d285" = 236
  dimension "d286" = 236
hole "Hole6" at (118, 133.35, 118) at (-118, 133.35, 118) at (-118, 133.35, -118) at (118, 133.35, -118) direction (0, -1, 0) diameter 2.6416 depth 10.979 thread size "6-32 UNC" class "2B" standard "ANSI Unified Screw Threads"
properties part number "bakeout_box_2020_iqc"
